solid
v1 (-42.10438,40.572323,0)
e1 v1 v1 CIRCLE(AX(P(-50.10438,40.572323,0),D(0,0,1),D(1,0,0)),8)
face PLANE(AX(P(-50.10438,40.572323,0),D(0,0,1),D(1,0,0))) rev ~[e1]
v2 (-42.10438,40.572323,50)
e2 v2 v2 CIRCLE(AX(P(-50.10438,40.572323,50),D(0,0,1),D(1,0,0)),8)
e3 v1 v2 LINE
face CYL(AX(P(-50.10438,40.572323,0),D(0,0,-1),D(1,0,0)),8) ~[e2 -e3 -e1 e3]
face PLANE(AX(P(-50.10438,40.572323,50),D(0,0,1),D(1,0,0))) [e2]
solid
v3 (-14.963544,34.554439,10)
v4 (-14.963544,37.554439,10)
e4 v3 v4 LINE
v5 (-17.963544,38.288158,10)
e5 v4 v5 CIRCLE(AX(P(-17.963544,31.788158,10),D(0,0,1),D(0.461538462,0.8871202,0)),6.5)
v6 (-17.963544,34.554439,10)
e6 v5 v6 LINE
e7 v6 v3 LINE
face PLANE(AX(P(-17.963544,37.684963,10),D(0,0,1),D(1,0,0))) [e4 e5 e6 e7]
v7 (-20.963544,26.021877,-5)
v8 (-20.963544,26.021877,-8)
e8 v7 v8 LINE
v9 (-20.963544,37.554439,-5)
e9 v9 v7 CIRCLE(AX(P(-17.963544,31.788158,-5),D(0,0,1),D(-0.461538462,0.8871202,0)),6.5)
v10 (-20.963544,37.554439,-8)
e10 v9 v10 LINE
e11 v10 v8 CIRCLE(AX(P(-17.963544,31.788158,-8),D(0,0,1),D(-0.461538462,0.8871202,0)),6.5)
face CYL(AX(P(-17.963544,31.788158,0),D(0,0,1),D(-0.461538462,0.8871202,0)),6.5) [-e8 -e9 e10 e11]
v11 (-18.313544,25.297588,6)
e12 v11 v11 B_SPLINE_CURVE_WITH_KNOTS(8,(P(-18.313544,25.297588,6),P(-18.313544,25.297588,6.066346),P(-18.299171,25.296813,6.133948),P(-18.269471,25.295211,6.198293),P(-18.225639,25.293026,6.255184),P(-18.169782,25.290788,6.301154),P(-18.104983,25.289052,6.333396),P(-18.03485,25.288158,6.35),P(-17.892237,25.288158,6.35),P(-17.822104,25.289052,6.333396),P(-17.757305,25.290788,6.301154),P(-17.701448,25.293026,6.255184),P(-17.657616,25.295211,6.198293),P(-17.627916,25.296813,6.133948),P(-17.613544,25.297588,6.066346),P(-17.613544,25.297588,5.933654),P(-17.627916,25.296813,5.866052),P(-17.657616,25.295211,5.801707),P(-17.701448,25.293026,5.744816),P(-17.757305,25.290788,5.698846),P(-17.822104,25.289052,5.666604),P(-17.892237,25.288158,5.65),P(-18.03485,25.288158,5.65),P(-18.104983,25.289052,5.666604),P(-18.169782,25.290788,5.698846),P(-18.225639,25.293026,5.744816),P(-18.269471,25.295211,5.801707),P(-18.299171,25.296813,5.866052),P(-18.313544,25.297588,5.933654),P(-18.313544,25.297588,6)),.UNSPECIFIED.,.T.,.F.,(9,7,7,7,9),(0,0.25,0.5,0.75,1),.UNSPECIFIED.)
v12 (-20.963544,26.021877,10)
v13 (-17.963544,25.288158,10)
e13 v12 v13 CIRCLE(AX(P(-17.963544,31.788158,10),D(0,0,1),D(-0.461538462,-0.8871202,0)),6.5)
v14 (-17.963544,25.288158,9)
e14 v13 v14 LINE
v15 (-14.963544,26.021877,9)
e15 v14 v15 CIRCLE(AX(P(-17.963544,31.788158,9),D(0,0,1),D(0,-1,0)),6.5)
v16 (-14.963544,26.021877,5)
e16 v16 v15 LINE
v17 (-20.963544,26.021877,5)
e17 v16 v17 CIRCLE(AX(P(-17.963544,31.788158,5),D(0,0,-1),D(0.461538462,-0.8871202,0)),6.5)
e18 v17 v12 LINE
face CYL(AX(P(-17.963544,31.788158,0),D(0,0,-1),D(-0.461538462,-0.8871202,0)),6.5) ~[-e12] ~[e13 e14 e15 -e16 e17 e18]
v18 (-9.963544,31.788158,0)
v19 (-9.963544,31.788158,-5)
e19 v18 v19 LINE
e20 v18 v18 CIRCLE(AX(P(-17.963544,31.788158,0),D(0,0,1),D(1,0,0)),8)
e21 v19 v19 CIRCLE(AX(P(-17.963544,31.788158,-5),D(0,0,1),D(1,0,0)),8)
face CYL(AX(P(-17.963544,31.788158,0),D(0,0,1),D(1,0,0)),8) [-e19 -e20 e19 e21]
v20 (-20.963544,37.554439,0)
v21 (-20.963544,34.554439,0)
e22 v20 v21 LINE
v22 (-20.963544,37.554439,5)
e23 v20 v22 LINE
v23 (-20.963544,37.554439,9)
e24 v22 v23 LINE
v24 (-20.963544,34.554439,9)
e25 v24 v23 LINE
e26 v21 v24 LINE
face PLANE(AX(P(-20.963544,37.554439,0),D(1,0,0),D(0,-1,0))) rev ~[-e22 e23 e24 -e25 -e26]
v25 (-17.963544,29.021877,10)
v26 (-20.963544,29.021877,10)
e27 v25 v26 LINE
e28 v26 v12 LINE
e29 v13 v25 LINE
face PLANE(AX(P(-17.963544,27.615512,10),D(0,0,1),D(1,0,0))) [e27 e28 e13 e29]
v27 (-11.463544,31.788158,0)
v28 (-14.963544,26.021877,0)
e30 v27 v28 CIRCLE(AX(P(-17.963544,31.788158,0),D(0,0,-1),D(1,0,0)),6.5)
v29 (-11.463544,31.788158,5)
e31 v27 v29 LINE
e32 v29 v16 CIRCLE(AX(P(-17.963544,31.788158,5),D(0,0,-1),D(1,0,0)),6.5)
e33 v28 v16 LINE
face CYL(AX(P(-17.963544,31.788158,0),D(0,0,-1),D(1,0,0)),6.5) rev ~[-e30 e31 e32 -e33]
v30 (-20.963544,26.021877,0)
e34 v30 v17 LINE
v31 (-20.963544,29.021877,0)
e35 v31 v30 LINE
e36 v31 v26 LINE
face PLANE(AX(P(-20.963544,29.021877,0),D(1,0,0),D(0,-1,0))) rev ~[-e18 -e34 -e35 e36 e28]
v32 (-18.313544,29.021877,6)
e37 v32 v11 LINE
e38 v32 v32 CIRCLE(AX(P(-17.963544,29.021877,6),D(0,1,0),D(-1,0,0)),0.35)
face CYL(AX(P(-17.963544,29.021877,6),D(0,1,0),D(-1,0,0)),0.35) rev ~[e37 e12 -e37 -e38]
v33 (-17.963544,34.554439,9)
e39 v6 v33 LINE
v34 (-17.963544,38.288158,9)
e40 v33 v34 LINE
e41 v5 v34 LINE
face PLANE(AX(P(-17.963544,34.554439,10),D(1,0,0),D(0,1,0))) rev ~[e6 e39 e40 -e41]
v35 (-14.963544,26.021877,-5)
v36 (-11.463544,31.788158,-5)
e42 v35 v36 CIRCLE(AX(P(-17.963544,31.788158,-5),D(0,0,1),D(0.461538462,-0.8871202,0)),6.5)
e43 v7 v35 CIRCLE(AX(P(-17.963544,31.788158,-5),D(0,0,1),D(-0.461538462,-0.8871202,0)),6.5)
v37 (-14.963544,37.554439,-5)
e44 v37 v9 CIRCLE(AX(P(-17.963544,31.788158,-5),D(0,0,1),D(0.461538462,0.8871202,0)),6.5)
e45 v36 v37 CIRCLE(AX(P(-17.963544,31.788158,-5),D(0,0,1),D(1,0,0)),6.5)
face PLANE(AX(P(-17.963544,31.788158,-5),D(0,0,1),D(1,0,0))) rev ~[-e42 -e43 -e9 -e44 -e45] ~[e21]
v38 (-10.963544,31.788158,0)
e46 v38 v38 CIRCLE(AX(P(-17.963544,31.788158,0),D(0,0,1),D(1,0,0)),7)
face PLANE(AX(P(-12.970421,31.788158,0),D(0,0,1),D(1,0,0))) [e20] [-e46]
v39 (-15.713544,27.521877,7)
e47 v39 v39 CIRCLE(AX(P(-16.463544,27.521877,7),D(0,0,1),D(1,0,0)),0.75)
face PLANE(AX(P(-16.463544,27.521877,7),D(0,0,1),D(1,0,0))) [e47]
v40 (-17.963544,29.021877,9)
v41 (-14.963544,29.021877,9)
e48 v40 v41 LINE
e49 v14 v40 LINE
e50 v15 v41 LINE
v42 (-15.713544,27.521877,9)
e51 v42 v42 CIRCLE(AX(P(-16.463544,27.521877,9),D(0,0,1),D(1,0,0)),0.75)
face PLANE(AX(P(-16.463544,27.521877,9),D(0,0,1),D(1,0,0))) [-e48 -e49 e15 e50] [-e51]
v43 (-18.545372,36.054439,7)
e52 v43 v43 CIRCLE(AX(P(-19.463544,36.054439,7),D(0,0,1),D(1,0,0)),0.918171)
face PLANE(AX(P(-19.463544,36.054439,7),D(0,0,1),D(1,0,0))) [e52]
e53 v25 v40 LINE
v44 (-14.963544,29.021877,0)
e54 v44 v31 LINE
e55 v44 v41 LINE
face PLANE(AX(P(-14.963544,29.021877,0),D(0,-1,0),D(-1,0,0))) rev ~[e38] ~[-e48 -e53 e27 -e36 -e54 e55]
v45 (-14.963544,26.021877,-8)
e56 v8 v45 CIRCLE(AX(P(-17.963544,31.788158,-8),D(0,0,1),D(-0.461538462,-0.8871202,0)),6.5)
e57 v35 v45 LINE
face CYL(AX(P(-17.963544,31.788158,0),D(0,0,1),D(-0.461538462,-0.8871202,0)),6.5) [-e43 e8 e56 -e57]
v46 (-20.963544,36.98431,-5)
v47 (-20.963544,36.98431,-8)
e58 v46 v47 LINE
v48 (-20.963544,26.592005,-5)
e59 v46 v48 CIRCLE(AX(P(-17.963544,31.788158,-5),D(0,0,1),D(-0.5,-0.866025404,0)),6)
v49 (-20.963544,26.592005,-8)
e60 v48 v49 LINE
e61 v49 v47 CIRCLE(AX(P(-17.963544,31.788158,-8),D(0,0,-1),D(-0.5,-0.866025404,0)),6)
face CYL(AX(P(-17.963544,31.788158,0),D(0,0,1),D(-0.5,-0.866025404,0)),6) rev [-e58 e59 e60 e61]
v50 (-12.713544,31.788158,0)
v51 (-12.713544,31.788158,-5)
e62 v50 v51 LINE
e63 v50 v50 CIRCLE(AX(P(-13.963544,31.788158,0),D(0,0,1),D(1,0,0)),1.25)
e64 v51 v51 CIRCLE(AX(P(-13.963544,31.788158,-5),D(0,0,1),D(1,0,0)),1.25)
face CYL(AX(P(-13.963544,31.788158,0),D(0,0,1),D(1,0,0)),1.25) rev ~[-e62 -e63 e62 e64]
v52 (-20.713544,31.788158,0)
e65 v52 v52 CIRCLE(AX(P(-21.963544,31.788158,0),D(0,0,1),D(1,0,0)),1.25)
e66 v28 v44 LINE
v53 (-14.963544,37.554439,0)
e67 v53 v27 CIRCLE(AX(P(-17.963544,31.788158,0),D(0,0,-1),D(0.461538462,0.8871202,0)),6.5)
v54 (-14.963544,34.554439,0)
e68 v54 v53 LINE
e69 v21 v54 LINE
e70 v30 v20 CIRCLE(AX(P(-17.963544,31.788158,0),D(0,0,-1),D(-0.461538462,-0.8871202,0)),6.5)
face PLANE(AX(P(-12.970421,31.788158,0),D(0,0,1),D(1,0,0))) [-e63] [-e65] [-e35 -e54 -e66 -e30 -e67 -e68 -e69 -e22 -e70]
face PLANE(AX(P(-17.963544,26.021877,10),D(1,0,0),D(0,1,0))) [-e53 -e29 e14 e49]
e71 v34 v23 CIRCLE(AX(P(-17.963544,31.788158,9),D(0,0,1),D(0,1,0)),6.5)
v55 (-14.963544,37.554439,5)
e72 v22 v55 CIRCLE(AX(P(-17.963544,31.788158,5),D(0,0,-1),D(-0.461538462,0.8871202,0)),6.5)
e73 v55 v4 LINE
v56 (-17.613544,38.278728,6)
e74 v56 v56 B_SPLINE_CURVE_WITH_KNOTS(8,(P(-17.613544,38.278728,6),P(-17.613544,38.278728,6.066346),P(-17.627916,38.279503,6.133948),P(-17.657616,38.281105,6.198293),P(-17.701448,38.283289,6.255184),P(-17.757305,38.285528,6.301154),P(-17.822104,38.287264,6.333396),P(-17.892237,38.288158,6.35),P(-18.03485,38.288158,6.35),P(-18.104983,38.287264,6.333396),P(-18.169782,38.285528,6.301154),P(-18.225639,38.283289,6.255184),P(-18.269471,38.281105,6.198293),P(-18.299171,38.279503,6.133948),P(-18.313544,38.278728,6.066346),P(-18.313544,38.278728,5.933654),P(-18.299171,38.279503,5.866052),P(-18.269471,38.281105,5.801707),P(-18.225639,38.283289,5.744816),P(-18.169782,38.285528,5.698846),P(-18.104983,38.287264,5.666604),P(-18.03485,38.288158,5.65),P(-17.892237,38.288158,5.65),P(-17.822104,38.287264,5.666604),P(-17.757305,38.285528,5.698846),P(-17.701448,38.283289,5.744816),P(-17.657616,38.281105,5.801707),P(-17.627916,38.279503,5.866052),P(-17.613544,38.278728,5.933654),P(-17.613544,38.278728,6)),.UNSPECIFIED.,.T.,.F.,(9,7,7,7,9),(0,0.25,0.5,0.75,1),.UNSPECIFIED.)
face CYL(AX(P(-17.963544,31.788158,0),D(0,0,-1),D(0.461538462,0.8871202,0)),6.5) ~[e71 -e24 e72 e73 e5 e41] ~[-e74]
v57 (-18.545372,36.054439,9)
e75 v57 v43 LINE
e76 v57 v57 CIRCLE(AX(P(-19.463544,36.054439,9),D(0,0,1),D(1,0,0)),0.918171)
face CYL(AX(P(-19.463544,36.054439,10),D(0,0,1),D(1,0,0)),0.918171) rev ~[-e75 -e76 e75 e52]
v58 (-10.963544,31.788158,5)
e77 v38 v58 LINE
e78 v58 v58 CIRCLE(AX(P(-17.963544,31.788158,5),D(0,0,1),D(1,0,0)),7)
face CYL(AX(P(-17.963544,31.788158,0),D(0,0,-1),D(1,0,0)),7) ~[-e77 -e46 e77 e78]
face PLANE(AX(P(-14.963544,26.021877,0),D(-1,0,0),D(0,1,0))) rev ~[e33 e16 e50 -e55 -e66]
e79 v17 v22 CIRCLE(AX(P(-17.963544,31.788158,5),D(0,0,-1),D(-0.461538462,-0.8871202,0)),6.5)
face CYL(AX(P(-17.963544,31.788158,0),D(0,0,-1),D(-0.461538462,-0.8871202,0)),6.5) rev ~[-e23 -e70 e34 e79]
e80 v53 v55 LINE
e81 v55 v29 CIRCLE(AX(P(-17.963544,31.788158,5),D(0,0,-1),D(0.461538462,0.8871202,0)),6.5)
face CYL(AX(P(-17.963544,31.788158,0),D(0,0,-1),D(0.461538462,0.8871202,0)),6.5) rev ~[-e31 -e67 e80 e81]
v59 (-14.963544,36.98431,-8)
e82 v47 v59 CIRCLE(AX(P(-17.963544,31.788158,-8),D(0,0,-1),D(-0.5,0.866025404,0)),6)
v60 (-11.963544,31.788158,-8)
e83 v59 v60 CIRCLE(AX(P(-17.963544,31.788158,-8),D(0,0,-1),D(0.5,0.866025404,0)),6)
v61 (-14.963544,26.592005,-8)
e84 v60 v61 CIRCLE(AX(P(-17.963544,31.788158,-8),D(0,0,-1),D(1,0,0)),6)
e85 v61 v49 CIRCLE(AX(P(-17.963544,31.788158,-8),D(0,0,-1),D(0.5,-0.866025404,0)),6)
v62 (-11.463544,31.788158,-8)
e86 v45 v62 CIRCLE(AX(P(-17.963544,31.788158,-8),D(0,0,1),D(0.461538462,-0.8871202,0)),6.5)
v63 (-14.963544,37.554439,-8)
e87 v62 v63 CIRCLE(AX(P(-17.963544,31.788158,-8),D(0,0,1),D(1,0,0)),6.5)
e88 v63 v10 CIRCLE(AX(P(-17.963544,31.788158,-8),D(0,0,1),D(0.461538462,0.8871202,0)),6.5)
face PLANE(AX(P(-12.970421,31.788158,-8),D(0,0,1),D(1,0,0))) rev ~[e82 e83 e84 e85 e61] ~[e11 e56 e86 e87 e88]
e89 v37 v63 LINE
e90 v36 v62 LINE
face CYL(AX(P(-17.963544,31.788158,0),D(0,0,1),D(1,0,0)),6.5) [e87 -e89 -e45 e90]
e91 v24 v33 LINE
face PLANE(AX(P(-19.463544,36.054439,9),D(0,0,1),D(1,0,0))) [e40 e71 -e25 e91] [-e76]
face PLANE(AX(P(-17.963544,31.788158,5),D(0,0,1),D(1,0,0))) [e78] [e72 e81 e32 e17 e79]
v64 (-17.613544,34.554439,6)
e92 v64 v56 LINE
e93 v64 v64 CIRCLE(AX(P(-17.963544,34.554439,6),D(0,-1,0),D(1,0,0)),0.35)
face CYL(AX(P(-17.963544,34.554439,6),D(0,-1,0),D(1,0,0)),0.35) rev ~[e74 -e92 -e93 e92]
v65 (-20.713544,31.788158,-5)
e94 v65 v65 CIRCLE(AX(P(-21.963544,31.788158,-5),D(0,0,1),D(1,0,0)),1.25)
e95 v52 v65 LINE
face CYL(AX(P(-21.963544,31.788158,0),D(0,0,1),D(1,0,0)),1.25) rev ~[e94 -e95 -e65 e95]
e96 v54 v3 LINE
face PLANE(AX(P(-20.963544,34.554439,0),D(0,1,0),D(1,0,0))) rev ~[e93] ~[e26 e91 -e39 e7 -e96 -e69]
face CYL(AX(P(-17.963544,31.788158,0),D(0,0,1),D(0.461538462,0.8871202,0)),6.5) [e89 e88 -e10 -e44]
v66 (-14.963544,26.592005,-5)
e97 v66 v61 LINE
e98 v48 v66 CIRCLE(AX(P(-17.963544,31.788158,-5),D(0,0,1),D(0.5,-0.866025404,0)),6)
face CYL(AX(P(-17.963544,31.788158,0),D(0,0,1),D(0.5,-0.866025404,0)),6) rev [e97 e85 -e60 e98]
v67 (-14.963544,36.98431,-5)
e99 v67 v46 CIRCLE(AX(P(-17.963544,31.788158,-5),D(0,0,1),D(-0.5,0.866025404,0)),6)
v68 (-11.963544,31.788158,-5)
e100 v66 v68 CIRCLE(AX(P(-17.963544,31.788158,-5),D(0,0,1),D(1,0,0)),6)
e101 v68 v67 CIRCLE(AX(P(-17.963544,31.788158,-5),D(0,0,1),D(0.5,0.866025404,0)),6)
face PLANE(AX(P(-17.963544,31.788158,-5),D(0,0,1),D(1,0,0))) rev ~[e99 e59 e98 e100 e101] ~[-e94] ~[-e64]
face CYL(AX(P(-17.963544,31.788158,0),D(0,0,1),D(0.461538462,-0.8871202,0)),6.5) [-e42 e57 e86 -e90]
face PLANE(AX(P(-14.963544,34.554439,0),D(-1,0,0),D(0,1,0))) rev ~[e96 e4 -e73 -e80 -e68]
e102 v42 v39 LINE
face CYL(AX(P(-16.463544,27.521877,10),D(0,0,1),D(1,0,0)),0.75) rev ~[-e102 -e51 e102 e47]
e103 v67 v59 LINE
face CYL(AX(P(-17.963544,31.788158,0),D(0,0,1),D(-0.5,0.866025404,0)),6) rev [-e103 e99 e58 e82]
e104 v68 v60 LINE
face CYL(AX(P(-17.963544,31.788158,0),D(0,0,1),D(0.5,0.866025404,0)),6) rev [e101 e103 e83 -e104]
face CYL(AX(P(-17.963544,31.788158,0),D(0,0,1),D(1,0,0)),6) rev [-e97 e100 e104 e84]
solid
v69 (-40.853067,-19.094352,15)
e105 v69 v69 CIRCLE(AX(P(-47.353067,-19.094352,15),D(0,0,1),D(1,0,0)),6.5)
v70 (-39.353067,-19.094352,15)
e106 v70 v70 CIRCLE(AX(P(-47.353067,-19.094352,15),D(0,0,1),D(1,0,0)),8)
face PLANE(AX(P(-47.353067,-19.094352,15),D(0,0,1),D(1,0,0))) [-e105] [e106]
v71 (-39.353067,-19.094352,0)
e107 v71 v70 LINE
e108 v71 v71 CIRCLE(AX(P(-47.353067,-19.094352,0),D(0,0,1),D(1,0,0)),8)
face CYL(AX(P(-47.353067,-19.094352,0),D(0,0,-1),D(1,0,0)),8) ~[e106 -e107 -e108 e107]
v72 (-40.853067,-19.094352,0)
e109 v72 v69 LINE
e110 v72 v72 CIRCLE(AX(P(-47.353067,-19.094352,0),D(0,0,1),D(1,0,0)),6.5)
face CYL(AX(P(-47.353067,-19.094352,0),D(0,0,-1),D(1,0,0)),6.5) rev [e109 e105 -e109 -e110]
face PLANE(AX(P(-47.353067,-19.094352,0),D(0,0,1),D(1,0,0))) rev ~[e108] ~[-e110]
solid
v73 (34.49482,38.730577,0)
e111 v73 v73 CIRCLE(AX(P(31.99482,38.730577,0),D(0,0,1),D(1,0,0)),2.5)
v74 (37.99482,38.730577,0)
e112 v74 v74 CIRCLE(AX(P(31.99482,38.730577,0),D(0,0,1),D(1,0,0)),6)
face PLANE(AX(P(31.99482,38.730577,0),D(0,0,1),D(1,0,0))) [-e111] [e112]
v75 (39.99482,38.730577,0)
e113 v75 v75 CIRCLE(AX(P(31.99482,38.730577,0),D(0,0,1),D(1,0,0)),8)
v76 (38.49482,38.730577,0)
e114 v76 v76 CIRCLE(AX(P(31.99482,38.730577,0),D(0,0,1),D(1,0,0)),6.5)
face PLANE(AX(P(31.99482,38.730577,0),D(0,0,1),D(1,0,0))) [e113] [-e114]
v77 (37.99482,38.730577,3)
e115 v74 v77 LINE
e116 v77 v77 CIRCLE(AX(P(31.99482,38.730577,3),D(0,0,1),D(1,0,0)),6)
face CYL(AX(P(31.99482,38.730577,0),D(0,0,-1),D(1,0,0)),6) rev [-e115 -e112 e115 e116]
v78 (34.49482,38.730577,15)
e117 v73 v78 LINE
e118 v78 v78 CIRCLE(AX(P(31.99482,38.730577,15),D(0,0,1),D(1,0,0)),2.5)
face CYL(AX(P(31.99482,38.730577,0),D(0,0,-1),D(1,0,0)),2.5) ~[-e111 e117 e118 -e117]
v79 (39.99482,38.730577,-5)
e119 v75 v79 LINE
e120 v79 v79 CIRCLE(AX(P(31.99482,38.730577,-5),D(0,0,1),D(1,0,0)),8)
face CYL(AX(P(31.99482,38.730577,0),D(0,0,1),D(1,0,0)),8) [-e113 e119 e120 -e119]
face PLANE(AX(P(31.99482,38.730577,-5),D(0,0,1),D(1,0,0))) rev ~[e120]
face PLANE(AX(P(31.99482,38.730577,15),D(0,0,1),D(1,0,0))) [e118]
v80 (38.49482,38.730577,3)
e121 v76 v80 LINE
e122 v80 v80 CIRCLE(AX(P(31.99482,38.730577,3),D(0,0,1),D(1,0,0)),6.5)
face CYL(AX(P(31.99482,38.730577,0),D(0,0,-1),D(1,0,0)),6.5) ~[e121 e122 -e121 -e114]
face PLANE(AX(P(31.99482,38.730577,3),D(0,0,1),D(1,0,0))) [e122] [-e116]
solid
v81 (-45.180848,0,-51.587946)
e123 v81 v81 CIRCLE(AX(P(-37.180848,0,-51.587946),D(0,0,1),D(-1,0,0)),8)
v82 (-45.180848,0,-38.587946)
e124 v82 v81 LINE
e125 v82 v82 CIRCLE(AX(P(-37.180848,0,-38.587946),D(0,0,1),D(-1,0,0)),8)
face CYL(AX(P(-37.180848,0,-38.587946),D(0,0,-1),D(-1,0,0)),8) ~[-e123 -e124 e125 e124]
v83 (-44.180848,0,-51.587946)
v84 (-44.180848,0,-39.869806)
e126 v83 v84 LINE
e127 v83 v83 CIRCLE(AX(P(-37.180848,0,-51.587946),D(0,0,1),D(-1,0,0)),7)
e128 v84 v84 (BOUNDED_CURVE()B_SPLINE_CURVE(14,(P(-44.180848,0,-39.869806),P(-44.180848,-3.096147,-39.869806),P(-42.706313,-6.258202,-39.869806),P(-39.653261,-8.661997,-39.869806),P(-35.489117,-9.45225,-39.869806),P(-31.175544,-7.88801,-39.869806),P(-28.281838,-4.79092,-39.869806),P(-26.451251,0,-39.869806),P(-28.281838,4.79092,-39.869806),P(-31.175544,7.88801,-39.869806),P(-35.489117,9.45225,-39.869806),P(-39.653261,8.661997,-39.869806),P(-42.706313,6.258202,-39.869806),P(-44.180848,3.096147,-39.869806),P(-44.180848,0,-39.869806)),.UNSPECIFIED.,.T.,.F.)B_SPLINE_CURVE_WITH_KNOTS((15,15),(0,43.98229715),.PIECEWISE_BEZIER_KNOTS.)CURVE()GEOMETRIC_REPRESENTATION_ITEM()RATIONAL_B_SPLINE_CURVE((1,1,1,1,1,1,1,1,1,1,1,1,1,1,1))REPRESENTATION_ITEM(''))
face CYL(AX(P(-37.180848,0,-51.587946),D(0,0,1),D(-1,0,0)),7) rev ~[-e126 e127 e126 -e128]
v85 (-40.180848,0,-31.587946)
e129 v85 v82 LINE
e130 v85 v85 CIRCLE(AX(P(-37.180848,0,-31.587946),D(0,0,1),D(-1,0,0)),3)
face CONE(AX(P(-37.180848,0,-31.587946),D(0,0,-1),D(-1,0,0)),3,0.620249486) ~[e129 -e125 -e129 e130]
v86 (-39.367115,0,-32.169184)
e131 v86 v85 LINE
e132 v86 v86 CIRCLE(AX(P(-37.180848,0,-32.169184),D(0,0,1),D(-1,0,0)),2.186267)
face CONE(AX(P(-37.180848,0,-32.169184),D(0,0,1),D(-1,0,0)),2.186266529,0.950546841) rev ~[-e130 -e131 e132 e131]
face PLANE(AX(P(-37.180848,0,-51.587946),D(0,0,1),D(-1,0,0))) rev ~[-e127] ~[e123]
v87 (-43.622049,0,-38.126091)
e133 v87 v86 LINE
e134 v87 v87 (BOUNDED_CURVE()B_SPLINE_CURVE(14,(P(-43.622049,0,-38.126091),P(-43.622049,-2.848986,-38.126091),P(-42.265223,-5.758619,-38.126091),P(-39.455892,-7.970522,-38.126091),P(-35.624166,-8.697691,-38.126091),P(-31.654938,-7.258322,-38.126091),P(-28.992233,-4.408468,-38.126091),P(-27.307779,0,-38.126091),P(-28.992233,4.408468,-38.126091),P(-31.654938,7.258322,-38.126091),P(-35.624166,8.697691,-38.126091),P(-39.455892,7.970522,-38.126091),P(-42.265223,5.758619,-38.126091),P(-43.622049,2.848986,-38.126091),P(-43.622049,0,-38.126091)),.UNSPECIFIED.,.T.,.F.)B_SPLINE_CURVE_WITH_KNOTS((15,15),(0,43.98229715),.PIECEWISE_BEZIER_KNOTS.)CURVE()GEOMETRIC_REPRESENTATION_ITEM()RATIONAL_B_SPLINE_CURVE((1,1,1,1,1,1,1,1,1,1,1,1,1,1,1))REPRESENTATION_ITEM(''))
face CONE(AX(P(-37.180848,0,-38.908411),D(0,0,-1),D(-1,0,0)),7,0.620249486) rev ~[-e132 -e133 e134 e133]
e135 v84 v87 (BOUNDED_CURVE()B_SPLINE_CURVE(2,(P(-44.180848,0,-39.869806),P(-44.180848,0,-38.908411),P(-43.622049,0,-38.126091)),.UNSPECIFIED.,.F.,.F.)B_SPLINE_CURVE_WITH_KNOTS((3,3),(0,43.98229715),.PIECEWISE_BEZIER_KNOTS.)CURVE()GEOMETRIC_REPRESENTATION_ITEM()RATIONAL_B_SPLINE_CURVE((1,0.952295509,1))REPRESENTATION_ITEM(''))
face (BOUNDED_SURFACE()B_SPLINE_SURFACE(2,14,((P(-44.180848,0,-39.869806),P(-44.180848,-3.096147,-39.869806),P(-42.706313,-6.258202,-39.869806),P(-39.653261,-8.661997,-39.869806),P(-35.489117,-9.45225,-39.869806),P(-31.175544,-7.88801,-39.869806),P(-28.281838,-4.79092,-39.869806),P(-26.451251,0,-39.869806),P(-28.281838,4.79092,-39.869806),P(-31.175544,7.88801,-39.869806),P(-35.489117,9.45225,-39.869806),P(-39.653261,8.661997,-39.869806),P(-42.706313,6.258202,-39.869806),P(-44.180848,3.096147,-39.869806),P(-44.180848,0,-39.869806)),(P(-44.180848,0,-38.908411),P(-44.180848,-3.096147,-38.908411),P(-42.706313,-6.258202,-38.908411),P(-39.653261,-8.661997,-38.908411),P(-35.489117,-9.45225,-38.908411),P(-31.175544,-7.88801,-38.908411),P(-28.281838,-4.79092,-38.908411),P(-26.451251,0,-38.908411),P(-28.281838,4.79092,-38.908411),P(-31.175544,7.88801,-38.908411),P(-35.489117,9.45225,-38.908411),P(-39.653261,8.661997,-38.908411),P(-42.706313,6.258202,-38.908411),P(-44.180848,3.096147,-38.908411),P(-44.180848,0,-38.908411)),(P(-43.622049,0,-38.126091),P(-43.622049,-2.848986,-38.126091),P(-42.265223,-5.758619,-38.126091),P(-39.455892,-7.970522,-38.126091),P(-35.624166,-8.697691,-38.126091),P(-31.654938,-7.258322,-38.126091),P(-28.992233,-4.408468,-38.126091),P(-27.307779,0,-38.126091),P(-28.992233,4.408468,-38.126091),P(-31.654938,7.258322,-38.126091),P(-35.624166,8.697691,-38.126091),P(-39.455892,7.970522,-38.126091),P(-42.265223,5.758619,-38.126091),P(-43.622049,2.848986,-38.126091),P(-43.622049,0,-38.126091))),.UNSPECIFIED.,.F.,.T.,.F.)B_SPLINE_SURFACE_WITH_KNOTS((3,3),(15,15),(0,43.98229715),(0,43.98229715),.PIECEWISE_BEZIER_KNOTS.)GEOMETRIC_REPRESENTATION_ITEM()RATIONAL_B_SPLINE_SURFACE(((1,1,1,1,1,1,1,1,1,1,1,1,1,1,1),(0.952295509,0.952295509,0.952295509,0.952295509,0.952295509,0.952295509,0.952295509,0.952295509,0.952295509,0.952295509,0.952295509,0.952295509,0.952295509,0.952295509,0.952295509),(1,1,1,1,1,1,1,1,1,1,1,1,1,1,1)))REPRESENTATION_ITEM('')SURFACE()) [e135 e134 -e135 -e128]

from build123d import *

# Parameters (mm, degrees)
F0_R      = 8
F1_DEPTH  = 50
F3_R      = 8
F3_R_2    = 6.5
F3_R_3    = 6
F3_R_4    = 2.5
F4_DEPTH  = 5
F5_DEPTH  = 3
F6_DEPTH  = 15
F2_R      = 8
F2_R_2    = 7
F7_DEPTH  = 5
F8_DEPTH  = 8
F9_DEPTH  = 5
F10_R     = 1.25
F11_DEPTH = 40
F12_DEPTH = 10
F13_R     = 0.35
F15_DEPTH = 25
F14_R     = 0.35
F16_DEPTH = 25
F17_R     = 8
F17_R_2   = 6.5
F18_DEPTH = 15
F21_R     = 3
F22_W     = 3
F22_H     = 3
F22_R     = 0.9181713185
F23_DEPTH = 1
F24_DEPTH = 3
F25_W     = 3
F25_H     = 3
F25_R     = 0.75
F26_DEPTH = 1
F27_DEPTH = 3
F29_DEPTH = 1
F31_DEPTH = 1


with BuildPart() as f1:
    # F0 (on Top) → F1 (new body)
    with BuildSketch(Plane.XY):
        with Locations((-50.1043796539, 40.5723229051)):
            Circle(F0_R)
    extrude(amount=F1_DEPTH)


with BuildPart() as f4:
    # F3 (on Top) → F4 (new body)
    with BuildSketch(Plane.XY):
        with Locations((31.9948196411, 38.7305766344)):
            Circle(F3_R)
        with Locations((31.9948196411, 38.7305766344)):
            Circle(F3_R_2, mode=Mode.SUBTRACT)
        with Locations((31.9948196411, 38.7305766344)):
            Circle(F3_R_2)
        with Locations((31.9948196411, 38.7305766344)):
            Circle(F3_R_3, mode=Mode.SUBTRACT)
        with Locations((31.9948196411, 38.7305766344)):
            Circle(F3_R_3)
        with Locations((31.9948196411, 38.7305766344)):
            Circle(F3_R_4, mode=Mode.SUBTRACT)
        with Locations((31.9948196411, 38.7305766344)):
            Circle(F3_R_4)
    extrude(amount=-F4_DEPTH)

    # F3 (on Top) → F5 (join)
    with BuildSketch(Plane.XY):
        with Locations((31.9948196411, 38.7305766344)):
            Circle(F3_R_2)
        with Locations((31.9948196411, 38.7305766344)):
            Circle(F3_R_3, mode=Mode.SUBTRACT)
    extrude(amount=F5_DEPTH)

    # F3 (on Top) → F6 (join)
    with BuildSketch(Plane.XY):
        with Locations((31.9948196411, 38.7305766344)):
            Circle(F3_R_4)
    extrude(amount=F6_DEPTH)


with BuildPart() as f7:
    # F2 (on Top) → F7 (new body)
    with BuildSketch(Plane.XY):
        with Locations((-17.9635435343, 31.7881578374)):
            Circle(F2_R)
        with Locations((-17.9635435343, 31.7881578374)):
            Circle(F2_R_2, mode=Mode.SUBTRACT)
        with Locations((-17.9635435343, 31.7881578374)):
            Circle(F2_R_2)
        with BuildLine():
            ThreePointArc((-14.9635435343, 37.5544391347), (-12.4070158416, 35.1608422282), (-11.4635435343, 31.7881578374))
            ThreePointArc((-11.4635435343, 31.7881578374), (-12.4070158416, 28.4154734466), (-14.9635435343, 26.0218765401))
            ThreePointArc((-14.9635435343, 26.0218765401), (-17.9635435343, 25.2881578374), (-20.9635435343, 26.0218765401))
            ThreePointArc((-20.9635435343, 26.0218765401), (-24.4635435343, 31.7881578374), (-20.9635435343, 37.5544391347))
            ThreePointArc((-20.9635435343, 37.5544391347), (-17.9635435343, 38.2881578374), (-14.9635435343, 37.5544391347))
        make_face(mode=Mode.SUBTRACT)
        with BuildLine():
            ThreePointArc((-11.9635435343, 31.7881578374), (-12.7673911116, 34.7881578374), (-14.9635435343, 36.9843102601))
            Line((-14.9635435343, 36.9843102601), (-14.9635435343, 34.5544391347))
            Line((-14.9635435343, 34.5544391347), (-20.9635435343, 34.5544391347))
            Line((-20.9635435343, 34.5544391347), (-20.9635435343, 36.9843102601))
            ThreePointArc((-20.9635435343, 36.9843102601), (-23.9635435343, 31.7881578374), (-20.9635435343, 26.5920054147))
            Line((-20.9635435343, 26.5920054147), (-20.9635435343, 29.0218765401))
            Line((-20.9635435343, 29.0218765401), (-14.9635435343, 29.0218765401))
            Line((-14.9635435343, 29.0218765401), (-14.9635435343, 26.5920054147))
            ThreePointArc((-14.9635435343, 26.5920054147), (-12.7673911116, 28.7881578374), (-11.9635435343, 31.7881578374))
        make_face()
        with BuildLine():
            Line((-14.9635435343, 34.5544391347), (-14.9635435343, 36.9843102601))
            ThreePointArc((-14.9635435343, 36.9843102601), (-17.9635435343, 37.7881578374), (-20.9635435343, 36.9843102601))
            Line((-20.9635435343, 36.9843102601), (-20.9635435343, 34.5544391347))
            Line((-20.9635435343, 34.5544391347), (-14.9635435343, 34.5544391347))
        make_face()
        with BuildLine():
            ThreePointArc((-20.9635435343, 26.5920054147), (-17.9635435343, 25.7881578374), (-14.9635435343, 26.5920054147))
            Line((-14.9635435343, 26.5920054147), (-14.9635435343, 29.0218765401))
            Line((-14.9635435343, 29.0218765401), (-20.9635435343, 29.0218765401))
            Line((-20.9635435343, 29.0218765401), (-20.9635435343, 26.5920054147))
        make_face()
        with BuildLine():
            Line((-20.9635435343, 36.9843102601), (-20.9635435343, 37.5544391347))
            ThreePointArc((-20.9635435343, 37.5544391347), (-24.4635435343, 31.7881578374), (-20.9635435343, 26.0218765401))
            Line((-20.9635435343, 26.0218765401), (-20.9635435343, 26.5920054147))
            ThreePointArc((-20.9635435343, 26.5920054147), (-23.9635435343, 31.7881578374), (-20.9635435343, 36.9843102601))
        make_face()
        with BuildLine():
            ThreePointArc((-14.9635435343, 26.0218765401), (-12.4070158416, 28.4154734466), (-11.4635435343, 31.7881578374))
            ThreePointArc((-11.4635435343, 31.7881578374), (-12.4070158416, 35.1608422282), (-14.9635435343, 37.5544391347))
            Line((-14.9635435343, 37.5544391347), (-14.9635435343, 36.9843102601))
            ThreePointArc((-14.9635435343, 36.9843102601), (-12.7673911116, 34.7881578374), (-11.9635435343, 31.7881578374))
            ThreePointArc((-11.9635435343, 31.7881578374), (-12.7673911116, 28.7881578374), (-14.9635435343, 26.5920054147))
            Line((-14.9635435343, 26.5920054147), (-14.9635435343, 26.0218765401))
        make_face()
        with BuildLine():
            ThreePointArc((-20.9635435343, 26.0218765401), (-17.9635435343, 25.2881578374), (-14.9635435343, 26.0218765401))
            Line((-14.9635435343, 26.0218765401), (-14.9635435343, 26.5920054147))
            ThreePointArc((-14.9635435343, 26.5920054147), (-17.9635435343, 25.7881578374), (-20.9635435343, 26.5920054147))
            Line((-20.9635435343, 26.5920054147), (-20.9635435343, 26.0218765401))
        make_face()
        with BuildLine():
            Line((-14.9635435343, 36.9843102601), (-14.9635435343, 37.5544391347))
            ThreePointArc((-14.9635435343, 37.5544391347), (-17.9635435343, 38.2881578374), (-20.9635435343, 37.5544391347))
            Line((-20.9635435343, 37.5544391347), (-20.9635435343, 36.9843102601))
            ThreePointArc((-20.9635435343, 36.9843102601), (-17.9635435343, 37.7881578374), (-14.9635435343, 36.9843102601))
        make_face()
    extrude(amount=-F7_DEPTH)

    # F2 (on Top) → F8 (join)
    with BuildSketch(Plane.XY):
        with BuildLine():
            ThreePointArc((-14.9635435343, 26.0218765401), (-12.4070158416, 28.4154734466), (-11.4635435343, 31.7881578374))
            ThreePointArc((-11.4635435343, 31.7881578374), (-12.4070158416, 35.1608422282), (-14.9635435343, 37.5544391347))
            Line((-14.9635435343, 37.5544391347), (-14.9635435343, 36.9843102601))
            ThreePointArc((-14.9635435343, 36.9843102601), (-12.7673911116, 34.7881578374), (-11.9635435343, 31.7881578374))
            ThreePointArc((-11.9635435343, 31.7881578374), (-12.7673911116, 28.7881578374), (-14.9635435343, 26.5920054147))
            Line((-14.9635435343, 26.5920054147), (-14.9635435343, 26.0218765401))
        make_face()
        with BuildLine():
            ThreePointArc((-20.9635435343, 26.0218765401), (-17.9635435343, 25.2881578374), (-14.9635435343, 26.0218765401))
            Line((-14.9635435343, 26.0218765401), (-14.9635435343, 26.5920054147))
            ThreePointArc((-14.9635435343, 26.5920054147), (-17.9635435343, 25.7881578374), (-20.9635435343, 26.5920054147))
            Line((-20.9635435343, 26.5920054147), (-20.9635435343, 26.0218765401))
        make_face()
        with BuildLine():
            Line((-14.9635435343, 36.9843102601), (-14.9635435343, 37.5544391347))
            ThreePointArc((-14.9635435343, 37.5544391347), (-17.9635435343, 38.2881578374), (-20.9635435343, 37.5544391347))
            Line((-20.9635435343, 37.5544391347), (-20.9635435343, 36.9843102601))
            ThreePointArc((-20.9635435343, 36.9843102601), (-17.9635435343, 37.7881578374), (-14.9635435343, 36.9843102601))
        make_face()
        with BuildLine():
            Line((-20.9635435343, 36.9843102601), (-20.9635435343, 37.5544391347))
            ThreePointArc((-20.9635435343, 37.5544391347), (-24.4635435343, 31.7881578374), (-20.9635435343, 26.0218765401))
            Line((-20.9635435343, 26.0218765401), (-20.9635435343, 26.5920054147))
            ThreePointArc((-20.9635435343, 26.5920054147), (-23.9635435343, 31.7881578374), (-20.9635435343, 36.9843102601))
        make_face()
    extrude(amount=-F8_DEPTH)

    # F2 (on Top) → F9 (join)
    with BuildSketch(Plane.XY):
        with Locations((-17.9635435343, 31.7881578374)):
            Circle(F2_R_2)
        with BuildLine():
            ThreePointArc((-14.9635435343, 37.5544391347), (-12.4070158416, 35.1608422282), (-11.4635435343, 31.7881578374))
            ThreePointArc((-11.4635435343, 31.7881578374), (-12.4070158416, 28.4154734466), (-14.9635435343, 26.0218765401))
            ThreePointArc((-14.9635435343, 26.0218765401), (-17.9635435343, 25.2881578374), (-20.9635435343, 26.0218765401))
            ThreePointArc((-20.9635435343, 26.0218765401), (-24.4635435343, 31.7881578374), (-20.9635435343, 37.5544391347))
            ThreePointArc((-20.9635435343, 37.5544391347), (-17.9635435343, 38.2881578374), (-14.9635435343, 37.5544391347))
        make_face(mode=Mode.SUBTRACT)
    extrude(amount=F9_DEPTH)

    # F10 (on face) → F11 (cut)
    with BuildSketch(Plane.XY):
        with Locations((-13.9635435343, 31.7881578374)):
            Circle(F10_R)
        with Locations((-21.9635435343, 31.7881578374)):
            Circle(F10_R)
    extrude(amount=-F11_DEPTH, mode=Mode.SUBTRACT)

    # F2 (on Top) → F12 (join)
    with BuildSketch(Plane.XY):
        with BuildLine():
            ThreePointArc((-20.9635435343, 26.5920054147), (-17.9635435343, 25.7881578374), (-14.9635435343, 26.5920054147))
            Line((-14.9635435343, 26.5920054147), (-14.9635435343, 29.0218765401))
            Line((-14.9635435343, 29.0218765401), (-20.9635435343, 29.0218765401))
            Line((-20.9635435343, 29.0218765401), (-20.9635435343, 26.5920054147))
        make_face()
        with BuildLine():
            ThreePointArc((-20.9635435343, 26.0218765401), (-17.9635435343, 25.2881578374), (-14.9635435343, 26.0218765401))
            Line((-14.9635435343, 26.0218765401), (-14.9635435343, 26.5920054147))
            ThreePointArc((-14.9635435343, 26.5920054147), (-17.9635435343, 25.7881578374), (-20.9635435343, 26.5920054147))
            Line((-20.9635435343, 26.5920054147), (-20.9635435343, 26.0218765401))
        make_face()
        with BuildLine():
            Line((-14.9635435343, 36.9843102601), (-14.9635435343, 37.5544391347))
            ThreePointArc((-14.9635435343, 37.5544391347), (-17.9635435343, 38.2881578374), (-20.9635435343, 37.5544391347))
            Line((-20.9635435343, 37.5544391347), (-20.9635435343, 36.9843102601))
            ThreePointArc((-20.9635435343, 36.9843102601), (-17.9635435343, 37.7881578374), (-14.9635435343, 36.9843102601))
        make_face()
        with BuildLine():
            Line((-14.9635435343, 34.5544391347), (-14.9635435343, 36.9843102601))
            ThreePointArc((-14.9635435343, 36.9843102601), (-17.9635435343, 37.7881578374), (-20.9635435343, 36.9843102601))
            Line((-20.9635435343, 36.9843102601), (-20.9635435343, 34.5544391347))
            Line((-20.9635435343, 34.5544391347), (-14.9635435343, 34.5544391347))
        make_face()
    extrude(amount=F12_DEPTH)

    # F13 (on face) → F15 (cut)
    with BuildSketch(Plane.XZ.offset(-34.5544391347)):
        with Locations((-17.9635435343, 6)):
            Circle(F13_R)
    extrude(amount=-F15_DEPTH, mode=Mode.SUBTRACT)

    # F14 (on face) → F16 (cut)
    with BuildSketch(Plane(origin=(0, 29.0218765401, 0), x_dir=(-1, 0, 0), z_dir=(0, 1, 0))):
        with Locations((17.9635435343, 6)):
            Circle(F14_R)
    extrude(amount=-F16_DEPTH, mode=Mode.SUBTRACT)

    # F22 (on face) → F23 (cut)
    with BuildSketch(Plane.XY.offset(10)):
        with Locations((-19.4635435343, 36.0544391347)):
            Rectangle(F22_W, F22_H)
        with Locations((-19.4635435343, 36.0544391347)):
            Circle(F22_R, mode=Mode.SUBTRACT)
        with Locations((-19.4635435343, 36.0544391347)):
            Circle(F22_R)
    extrude(amount=-F23_DEPTH, mode=Mode.SUBTRACT)

    # F22 (on face) → F24 (cut)
    with BuildSketch(Plane.XY.offset(10)):
        with Locations((-19.4635435343, 36.0544391347)):
            Circle(F22_R)
    extrude(amount=-F24_DEPTH, mode=Mode.SUBTRACT)

    # F25 (on face) → F26 (cut)
    with BuildSketch(Plane.XY.offset(10)):
        with Locations((-16.4635435343, 27.5218765401)):
            Rectangle(F25_W, F25_H)
        with Locations((-16.4635435343, 27.5218765401)):
            Circle(F25_R, mode=Mode.SUBTRACT)
        with Locations((-16.4635435343, 27.5218765401)):
            Circle(F25_R)
    extrude(amount=-F26_DEPTH, mode=Mode.SUBTRACT)

    # F25 (on face) → F27 (cut)
    with BuildSketch(Plane.XY.offset(10)):
        with Locations((-16.4635435343, 27.5218765401)):
            Circle(F25_R)
    extrude(amount=-F27_DEPTH, mode=Mode.SUBTRACT)

    # F28 (on face) → F29 (cut)
    with BuildSketch(Plane.XY.offset(10)):
        with BuildLine():
            Line((-20.9635435343, 37.5544391347), (-17.9635435343, 37.5544391347))
            Line((-17.9635435343, 37.5544391347), (-17.9635435343, 38.2881578374))
            ThreePointArc((-17.9635435343, 38.2881578374), (-19.5077539421, 38.1020642523), (-20.9635435343, 37.5544391347))
        make_face()
    extrude(amount=-F29_DEPTH, mode=Mode.SUBTRACT)

    # F30 (on face) → F31 (cut)
    with BuildSketch(Plane.XY.offset(10)):
        with BuildLine():
            Line((-14.9635435343, 26.0218765401), (-17.9635435343, 26.0218765401))
            Line((-17.9635435343, 26.0218765401), (-17.9635435343, 25.2881578374))
            ThreePointArc((-17.9635435343, 25.2881578374), (-16.4193331264, 25.4742514225), (-14.9635435343, 26.0218765401))
        make_face()
    extrude(amount=-F31_DEPTH, mode=Mode.SUBTRACT)


with BuildPart() as f18:
    # F17 (on Top) → F18 (new body)
    with BuildSketch(Plane.XY):
        with Locations((-47.353066504, -19.0943516791)):
            Circle(F17_R)
        with Locations((-47.353066504, -19.0943516791)):
            Circle(F17_R_2, mode=Mode.SUBTRACT)
    extrude(amount=F18_DEPTH)


with BuildPart() as f20:
    # F19 (on Front) → F20 (revolve)
    with BuildSketch(Plane.XZ):
        Polygon((-45.1808483899, -38.5879456215), (-45.1808483899, -51.5879456215), (-44.1808483899, -51.5879456215), (-44.1808483899, -38.9084106749), (-39.3671149187, -32.1691838152), (-40.1808483899, -31.5879456215), align=None)
    revolve(axis=Axis((-37.1808483899, 0, -46.5879456215), (0, 0, 1)))

    # F21
    f21_edges = [f20.edges().sort_by_distance(p)[0] for p in [
        (-30.180848, 0, -38.908411),
    ]]
    fillet(f21_edges, radius=F21_R)


solid = Compound([f1.part, f4.part, f7.part, f18.part, f20.part])
